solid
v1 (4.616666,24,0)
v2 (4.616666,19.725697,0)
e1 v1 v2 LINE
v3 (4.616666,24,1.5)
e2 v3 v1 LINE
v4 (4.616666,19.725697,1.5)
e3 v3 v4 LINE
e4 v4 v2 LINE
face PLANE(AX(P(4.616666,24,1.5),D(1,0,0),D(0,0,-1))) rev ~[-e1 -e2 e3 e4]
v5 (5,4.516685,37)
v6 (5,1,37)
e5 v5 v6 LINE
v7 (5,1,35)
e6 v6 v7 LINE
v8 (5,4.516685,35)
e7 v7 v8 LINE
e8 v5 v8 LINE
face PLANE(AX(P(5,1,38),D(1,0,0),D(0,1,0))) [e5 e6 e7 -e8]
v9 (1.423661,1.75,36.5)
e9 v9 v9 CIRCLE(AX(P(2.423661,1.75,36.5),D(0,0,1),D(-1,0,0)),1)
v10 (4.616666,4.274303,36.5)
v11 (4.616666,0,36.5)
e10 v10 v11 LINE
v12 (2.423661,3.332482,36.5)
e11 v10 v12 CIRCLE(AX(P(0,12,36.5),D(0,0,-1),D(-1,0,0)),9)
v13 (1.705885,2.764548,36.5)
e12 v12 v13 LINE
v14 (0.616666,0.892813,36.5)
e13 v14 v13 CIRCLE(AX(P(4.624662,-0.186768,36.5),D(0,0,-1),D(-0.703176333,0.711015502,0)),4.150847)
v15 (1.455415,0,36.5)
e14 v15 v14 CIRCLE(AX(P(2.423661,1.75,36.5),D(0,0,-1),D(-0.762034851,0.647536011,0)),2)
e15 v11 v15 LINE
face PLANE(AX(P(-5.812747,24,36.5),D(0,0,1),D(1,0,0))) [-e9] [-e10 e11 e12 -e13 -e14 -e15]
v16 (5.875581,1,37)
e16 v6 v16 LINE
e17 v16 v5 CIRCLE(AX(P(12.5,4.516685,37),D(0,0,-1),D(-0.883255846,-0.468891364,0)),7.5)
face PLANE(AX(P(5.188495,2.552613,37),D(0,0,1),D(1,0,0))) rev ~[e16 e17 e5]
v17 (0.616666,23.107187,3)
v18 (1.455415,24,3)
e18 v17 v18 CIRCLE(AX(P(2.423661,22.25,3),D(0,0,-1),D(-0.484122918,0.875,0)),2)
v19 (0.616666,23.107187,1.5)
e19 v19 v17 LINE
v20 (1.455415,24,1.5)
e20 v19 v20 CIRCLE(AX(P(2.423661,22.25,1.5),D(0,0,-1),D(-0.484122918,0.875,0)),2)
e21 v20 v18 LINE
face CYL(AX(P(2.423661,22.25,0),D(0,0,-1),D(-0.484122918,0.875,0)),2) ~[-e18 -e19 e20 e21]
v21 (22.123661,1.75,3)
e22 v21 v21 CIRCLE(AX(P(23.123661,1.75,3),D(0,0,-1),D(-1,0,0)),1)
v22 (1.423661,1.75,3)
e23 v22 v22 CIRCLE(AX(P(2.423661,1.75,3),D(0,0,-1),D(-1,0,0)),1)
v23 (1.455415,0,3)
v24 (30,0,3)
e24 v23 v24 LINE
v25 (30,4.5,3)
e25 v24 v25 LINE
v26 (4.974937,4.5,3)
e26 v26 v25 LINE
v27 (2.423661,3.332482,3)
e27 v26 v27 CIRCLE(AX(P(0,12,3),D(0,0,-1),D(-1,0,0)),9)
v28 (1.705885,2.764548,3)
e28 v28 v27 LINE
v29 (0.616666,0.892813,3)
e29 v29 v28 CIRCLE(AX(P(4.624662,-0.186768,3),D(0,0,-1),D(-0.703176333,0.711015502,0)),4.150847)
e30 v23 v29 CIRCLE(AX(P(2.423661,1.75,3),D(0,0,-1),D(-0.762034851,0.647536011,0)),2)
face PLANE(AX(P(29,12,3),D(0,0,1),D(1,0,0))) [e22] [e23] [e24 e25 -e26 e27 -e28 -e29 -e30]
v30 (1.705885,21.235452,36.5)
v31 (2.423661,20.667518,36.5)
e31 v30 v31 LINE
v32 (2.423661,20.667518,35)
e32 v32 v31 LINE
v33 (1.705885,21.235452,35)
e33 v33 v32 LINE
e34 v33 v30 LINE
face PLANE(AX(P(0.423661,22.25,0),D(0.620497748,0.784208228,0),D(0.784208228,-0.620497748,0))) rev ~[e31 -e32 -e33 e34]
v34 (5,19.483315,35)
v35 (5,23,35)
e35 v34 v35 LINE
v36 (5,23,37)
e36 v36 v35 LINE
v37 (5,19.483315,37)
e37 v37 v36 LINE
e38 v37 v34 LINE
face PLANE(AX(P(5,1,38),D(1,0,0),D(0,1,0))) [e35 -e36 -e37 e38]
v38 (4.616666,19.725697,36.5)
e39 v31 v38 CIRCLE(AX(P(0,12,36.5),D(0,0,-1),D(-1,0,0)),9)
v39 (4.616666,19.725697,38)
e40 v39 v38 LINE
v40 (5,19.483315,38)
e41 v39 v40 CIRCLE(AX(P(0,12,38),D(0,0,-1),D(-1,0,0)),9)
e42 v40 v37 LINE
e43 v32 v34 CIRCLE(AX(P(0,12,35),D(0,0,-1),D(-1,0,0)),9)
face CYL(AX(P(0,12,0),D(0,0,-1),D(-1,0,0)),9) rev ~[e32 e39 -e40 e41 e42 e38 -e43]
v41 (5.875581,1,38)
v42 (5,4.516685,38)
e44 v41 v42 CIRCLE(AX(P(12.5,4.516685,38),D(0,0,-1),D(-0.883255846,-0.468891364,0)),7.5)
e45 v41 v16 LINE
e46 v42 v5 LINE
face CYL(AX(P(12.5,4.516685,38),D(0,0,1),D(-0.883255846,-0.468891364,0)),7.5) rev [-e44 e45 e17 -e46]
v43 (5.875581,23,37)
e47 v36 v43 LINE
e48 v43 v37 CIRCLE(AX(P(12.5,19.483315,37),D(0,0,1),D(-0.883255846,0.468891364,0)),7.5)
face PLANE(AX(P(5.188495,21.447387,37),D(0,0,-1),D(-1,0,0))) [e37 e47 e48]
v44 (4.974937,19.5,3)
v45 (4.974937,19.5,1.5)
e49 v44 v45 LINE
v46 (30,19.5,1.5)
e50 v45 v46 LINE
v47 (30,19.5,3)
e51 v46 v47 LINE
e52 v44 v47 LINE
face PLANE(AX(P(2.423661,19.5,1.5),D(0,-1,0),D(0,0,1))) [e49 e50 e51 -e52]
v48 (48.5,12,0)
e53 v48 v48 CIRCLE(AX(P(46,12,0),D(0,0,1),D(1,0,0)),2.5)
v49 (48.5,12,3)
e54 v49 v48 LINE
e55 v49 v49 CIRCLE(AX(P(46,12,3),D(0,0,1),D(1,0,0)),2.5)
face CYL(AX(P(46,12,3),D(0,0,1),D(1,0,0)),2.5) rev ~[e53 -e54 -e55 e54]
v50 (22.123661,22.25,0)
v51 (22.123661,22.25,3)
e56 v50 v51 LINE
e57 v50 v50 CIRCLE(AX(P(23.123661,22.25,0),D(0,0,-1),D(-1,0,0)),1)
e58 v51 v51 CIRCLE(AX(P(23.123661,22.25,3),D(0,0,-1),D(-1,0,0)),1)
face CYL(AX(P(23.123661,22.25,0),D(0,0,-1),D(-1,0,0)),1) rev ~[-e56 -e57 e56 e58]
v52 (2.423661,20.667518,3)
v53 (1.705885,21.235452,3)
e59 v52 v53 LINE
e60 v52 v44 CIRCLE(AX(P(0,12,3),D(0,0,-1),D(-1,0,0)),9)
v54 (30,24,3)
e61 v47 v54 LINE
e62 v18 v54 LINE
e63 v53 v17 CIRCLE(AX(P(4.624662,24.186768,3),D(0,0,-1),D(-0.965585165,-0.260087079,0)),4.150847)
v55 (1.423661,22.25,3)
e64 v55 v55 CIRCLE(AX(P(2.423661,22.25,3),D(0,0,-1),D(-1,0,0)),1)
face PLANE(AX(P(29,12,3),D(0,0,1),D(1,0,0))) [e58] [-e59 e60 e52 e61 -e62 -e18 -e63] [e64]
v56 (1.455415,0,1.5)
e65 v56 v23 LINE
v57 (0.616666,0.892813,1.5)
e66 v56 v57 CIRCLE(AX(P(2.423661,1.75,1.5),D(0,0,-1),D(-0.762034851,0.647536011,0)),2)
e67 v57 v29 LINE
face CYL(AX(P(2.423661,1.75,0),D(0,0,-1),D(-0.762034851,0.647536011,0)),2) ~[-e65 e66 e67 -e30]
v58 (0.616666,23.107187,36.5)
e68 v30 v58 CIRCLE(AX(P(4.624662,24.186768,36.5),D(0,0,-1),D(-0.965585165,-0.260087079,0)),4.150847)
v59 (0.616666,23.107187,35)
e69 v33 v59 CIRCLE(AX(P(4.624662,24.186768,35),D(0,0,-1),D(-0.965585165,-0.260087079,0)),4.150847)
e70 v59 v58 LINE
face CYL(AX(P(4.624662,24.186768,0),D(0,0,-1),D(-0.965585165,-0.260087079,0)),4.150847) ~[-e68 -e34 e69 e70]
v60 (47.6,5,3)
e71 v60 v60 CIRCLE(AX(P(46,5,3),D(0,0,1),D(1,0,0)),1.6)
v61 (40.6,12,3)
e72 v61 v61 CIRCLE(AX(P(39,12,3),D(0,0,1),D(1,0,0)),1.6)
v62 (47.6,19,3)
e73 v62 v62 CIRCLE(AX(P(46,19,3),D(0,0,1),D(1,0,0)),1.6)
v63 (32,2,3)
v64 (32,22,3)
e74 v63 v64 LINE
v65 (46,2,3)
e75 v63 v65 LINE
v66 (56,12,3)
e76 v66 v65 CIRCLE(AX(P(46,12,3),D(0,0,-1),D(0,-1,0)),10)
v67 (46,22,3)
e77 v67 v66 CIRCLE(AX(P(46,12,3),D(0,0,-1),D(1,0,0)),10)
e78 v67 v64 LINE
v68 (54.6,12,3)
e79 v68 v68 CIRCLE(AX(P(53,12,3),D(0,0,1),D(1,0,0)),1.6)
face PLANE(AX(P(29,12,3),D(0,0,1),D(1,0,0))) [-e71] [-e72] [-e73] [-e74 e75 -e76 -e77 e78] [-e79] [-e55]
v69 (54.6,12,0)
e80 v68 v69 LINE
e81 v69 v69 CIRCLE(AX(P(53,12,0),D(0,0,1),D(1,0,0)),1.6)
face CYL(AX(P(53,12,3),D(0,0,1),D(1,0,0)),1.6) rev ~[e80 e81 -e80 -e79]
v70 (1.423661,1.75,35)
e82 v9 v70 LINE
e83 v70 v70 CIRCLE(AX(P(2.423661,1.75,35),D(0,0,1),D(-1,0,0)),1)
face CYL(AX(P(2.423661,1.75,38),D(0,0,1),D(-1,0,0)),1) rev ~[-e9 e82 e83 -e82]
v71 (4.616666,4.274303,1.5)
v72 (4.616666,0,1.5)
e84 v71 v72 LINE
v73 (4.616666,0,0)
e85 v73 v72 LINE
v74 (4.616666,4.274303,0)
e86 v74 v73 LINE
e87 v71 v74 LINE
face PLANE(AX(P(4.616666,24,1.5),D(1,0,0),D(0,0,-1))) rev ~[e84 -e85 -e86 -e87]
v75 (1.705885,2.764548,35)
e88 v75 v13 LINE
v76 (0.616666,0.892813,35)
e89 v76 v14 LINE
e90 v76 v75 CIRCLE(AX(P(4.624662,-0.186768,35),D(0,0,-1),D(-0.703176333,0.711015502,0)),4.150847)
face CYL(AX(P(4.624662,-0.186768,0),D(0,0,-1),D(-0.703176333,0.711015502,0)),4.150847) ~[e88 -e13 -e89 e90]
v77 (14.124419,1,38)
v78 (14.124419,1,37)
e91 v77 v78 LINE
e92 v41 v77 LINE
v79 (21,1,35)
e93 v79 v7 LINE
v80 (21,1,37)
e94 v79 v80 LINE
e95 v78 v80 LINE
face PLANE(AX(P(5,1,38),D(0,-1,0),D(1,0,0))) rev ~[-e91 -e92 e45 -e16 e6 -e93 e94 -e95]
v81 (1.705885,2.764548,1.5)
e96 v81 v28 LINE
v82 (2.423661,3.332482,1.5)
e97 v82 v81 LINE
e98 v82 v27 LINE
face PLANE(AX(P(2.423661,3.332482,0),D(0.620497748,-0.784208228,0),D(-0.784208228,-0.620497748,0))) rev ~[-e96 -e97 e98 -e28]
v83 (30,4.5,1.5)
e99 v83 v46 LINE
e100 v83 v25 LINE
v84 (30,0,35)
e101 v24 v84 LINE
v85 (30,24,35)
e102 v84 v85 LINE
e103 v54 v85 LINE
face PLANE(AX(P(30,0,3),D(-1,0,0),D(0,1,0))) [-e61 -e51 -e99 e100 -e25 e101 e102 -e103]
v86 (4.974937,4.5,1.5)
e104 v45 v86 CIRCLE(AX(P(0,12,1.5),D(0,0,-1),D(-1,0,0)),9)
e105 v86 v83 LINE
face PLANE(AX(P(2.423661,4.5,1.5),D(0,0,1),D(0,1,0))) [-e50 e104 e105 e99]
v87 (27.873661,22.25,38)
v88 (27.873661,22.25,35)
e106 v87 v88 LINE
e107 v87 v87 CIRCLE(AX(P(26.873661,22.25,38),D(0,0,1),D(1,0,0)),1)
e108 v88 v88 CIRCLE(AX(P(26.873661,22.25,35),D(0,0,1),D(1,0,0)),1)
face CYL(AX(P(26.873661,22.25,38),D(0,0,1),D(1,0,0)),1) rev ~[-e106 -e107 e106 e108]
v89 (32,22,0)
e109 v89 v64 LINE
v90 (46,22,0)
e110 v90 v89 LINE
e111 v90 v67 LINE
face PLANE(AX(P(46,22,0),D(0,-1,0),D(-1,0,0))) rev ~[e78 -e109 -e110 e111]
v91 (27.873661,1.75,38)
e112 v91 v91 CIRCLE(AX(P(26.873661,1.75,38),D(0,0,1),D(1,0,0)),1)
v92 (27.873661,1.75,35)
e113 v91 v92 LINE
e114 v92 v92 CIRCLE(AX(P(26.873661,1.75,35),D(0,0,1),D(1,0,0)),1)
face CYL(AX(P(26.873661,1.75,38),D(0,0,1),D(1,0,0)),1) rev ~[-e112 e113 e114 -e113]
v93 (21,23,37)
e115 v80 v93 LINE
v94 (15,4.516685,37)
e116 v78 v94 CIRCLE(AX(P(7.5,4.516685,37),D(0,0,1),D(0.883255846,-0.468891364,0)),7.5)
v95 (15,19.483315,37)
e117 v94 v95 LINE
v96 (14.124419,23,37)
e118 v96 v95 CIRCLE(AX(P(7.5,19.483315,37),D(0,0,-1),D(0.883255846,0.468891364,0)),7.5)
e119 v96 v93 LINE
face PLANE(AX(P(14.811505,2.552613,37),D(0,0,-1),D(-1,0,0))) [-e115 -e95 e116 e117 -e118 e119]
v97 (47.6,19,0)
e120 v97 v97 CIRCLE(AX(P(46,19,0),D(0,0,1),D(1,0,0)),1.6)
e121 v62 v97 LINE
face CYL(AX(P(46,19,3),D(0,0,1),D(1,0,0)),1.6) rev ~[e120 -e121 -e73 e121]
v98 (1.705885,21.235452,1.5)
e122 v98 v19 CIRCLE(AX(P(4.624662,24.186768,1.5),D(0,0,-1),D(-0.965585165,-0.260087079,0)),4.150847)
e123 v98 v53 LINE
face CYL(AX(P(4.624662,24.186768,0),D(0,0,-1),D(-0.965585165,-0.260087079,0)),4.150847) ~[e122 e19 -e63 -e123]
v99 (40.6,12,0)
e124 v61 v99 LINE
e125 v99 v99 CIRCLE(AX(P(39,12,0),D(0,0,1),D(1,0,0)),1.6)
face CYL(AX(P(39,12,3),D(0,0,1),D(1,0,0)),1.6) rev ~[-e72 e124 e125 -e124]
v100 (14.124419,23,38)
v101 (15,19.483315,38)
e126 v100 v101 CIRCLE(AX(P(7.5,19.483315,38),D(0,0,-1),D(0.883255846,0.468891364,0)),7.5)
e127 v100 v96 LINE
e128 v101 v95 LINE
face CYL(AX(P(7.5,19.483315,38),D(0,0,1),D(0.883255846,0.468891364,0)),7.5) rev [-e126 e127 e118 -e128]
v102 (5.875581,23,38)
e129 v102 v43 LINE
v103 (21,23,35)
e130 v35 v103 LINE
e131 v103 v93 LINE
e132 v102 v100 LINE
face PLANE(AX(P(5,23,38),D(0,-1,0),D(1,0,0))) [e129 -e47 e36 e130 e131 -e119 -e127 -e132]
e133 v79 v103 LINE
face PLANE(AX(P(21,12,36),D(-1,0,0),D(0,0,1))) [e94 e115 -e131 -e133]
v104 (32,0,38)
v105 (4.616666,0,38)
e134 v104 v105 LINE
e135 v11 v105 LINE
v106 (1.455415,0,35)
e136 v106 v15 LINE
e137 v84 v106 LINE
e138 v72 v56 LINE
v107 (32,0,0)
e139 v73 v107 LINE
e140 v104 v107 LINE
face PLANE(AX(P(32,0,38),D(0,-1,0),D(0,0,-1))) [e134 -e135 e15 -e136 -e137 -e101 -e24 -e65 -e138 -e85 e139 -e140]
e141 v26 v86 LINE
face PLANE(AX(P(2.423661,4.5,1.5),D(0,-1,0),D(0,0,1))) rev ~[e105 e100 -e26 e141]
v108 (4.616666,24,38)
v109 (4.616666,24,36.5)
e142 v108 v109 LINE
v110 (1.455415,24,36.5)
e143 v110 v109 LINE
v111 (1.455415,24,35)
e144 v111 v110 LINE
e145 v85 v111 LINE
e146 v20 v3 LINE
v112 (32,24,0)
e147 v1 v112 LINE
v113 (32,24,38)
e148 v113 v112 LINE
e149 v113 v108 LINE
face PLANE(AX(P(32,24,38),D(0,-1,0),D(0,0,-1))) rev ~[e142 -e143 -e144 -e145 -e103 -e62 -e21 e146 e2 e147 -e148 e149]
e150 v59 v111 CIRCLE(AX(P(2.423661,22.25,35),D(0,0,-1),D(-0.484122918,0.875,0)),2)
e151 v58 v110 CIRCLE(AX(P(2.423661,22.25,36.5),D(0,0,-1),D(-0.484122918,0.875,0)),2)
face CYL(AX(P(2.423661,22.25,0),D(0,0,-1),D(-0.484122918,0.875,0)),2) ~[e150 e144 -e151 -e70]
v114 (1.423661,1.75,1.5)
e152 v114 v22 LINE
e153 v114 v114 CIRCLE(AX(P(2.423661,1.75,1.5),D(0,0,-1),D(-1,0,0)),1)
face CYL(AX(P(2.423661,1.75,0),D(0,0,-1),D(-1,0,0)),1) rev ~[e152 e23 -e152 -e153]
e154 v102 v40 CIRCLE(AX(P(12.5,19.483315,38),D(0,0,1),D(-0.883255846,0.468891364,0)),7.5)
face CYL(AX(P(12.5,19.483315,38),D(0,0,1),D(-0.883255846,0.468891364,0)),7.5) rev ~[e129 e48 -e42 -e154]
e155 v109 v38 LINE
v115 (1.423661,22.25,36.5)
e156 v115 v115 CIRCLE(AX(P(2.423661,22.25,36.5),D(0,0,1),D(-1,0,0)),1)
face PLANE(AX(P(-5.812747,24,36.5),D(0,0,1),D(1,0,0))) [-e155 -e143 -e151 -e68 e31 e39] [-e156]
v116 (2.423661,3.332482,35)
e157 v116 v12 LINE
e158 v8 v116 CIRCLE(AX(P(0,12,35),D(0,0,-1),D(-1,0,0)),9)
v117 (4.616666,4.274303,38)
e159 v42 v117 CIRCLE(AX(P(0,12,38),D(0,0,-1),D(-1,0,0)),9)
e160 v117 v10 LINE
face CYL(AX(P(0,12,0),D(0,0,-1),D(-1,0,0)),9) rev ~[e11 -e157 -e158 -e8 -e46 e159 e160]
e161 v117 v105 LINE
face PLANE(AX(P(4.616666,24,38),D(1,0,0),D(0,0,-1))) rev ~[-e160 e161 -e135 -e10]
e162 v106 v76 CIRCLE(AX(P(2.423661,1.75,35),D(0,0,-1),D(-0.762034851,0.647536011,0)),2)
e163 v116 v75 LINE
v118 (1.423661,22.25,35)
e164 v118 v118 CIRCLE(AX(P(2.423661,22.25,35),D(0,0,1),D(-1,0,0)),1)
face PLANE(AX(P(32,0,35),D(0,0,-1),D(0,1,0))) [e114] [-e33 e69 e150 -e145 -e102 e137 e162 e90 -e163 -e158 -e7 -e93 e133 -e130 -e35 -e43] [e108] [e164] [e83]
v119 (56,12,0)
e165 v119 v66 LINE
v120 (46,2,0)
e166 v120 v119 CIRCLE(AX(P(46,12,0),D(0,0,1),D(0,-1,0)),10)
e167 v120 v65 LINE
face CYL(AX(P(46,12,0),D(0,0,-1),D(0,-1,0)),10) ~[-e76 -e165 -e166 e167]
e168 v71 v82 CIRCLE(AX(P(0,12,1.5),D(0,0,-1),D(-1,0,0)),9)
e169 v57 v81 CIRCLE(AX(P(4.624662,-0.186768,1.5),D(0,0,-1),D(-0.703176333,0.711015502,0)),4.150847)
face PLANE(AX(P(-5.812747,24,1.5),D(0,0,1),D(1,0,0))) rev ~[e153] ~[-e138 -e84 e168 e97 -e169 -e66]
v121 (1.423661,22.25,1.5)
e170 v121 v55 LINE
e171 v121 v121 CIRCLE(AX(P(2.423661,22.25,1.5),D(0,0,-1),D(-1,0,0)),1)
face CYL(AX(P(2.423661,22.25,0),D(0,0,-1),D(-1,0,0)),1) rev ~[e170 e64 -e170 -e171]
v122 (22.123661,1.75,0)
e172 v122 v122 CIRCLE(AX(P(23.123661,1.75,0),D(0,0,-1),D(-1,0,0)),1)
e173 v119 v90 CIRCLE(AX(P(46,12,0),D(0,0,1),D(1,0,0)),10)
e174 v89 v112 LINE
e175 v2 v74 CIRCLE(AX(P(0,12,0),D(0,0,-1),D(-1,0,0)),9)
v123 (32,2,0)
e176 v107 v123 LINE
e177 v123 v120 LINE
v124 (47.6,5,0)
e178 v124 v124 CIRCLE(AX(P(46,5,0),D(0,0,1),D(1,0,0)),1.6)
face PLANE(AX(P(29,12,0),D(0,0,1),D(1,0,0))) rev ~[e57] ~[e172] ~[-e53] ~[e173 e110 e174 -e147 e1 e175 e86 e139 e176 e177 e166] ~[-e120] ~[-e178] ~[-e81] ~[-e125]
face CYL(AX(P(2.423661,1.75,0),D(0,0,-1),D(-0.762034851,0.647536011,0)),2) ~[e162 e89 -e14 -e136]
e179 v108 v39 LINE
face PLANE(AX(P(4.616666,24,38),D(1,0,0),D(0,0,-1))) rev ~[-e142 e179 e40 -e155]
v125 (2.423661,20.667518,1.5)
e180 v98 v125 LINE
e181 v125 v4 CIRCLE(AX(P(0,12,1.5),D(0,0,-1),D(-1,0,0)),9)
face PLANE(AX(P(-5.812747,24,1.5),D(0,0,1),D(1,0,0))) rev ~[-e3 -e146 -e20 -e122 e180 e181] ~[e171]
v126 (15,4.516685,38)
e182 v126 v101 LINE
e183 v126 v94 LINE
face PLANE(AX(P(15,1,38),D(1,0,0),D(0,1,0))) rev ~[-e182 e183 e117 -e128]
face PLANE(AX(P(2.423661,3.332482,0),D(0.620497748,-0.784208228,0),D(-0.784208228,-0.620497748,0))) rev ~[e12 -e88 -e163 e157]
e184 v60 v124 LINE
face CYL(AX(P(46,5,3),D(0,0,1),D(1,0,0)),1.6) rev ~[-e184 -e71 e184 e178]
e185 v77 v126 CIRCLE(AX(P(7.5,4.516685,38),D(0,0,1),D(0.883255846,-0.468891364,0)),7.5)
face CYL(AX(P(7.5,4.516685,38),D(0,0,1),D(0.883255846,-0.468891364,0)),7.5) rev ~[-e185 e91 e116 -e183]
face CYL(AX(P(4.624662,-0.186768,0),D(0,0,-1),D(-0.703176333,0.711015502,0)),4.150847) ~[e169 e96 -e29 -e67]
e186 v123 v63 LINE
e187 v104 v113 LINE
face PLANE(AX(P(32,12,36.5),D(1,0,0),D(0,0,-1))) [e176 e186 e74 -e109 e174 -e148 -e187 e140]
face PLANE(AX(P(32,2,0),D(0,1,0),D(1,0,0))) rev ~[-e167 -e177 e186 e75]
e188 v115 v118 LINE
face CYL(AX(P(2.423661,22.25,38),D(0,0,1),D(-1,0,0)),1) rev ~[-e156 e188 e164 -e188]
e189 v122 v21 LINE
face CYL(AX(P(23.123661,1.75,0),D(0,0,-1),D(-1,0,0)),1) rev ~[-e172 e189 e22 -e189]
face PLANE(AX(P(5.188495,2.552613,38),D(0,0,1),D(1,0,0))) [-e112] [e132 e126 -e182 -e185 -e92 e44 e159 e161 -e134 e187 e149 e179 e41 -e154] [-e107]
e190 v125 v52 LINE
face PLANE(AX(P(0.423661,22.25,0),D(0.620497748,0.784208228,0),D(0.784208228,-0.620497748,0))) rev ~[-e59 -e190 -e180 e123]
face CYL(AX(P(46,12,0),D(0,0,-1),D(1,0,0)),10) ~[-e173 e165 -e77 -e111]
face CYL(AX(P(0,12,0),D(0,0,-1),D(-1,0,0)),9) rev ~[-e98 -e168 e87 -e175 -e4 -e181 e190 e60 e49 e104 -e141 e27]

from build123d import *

# Parameters (mm, degrees)
SKETCH_1_W           = 58
SKETCH_1_H           = 24
EXTRUDE_1_DEPTH      = 3
SKETCH_2_W           = 2
SKETCH_2_H           = 24
EXTRUDE_2_DEPTH      = 32
SKETCH_3_W           = 3
SKETCH_3_H           = 24
EXTRUDE_3_DEPTH      = 32
SKETCH_4_R           = 9
CUT_EXTRUDE_1_DEPTH  = 74.375745311
CUT_EXTRUDE_2_REACH  = 75.376
SKETCH_5_R           = 1
CUT_EXTRUDE_3_REACH  = 75.376
SKETCH_6_W           = 10
SKETCH_6_H           = 22
SKETCH_7_W           = 2
SKETCH_7_H           = 22
CUT_EXTRUDE_4_DEPTH  = 6
CUT_EXTRUDE_5_REACH  = 75.376
SKETCH_8_R           = 1
EXTRUDE_4_DEPTH      = 1
CUT_EXTRUDE_6_DEPTH  = 74.375745311
CUT_EXTRUDE_7_DEPTH  = 74.375745311
CUT_EXTRUDE_8_DEPTH  = 74.375745311
SKETCH_15_W          = 10.429412993
SKETCH_15_H          = 1.5
CUT_EXTRUDE_9_DEPTH  = 74.375745311
SKETCH_16_W          = 1.5
SKETCH_16_H          = 15
CUT_EXTRUDE_10_DEPTH = 27.576338772
CUT_EXTRUDE_11_REACH = 73.868
SKETCH_17_R          = 1.6
SKETCH_17_R_2        = 2.5
CUT_EXTRUDE_12_REACH = 75.376


with BuildPart() as part:
    # 草图1 → 凸台-拉伸1 (new body)
    with BuildSketch(Plane.XY):
        with Locations((29, 12)):
            Rectangle(SKETCH_1_W, SKETCH_1_H)
    extrude(amount=EXTRUDE_1_DEPTH)

    # 草图2 → 凸台-拉伸2 (add)
    with BuildSketch(Plane.XY.offset(3)):
        with Locations((31, 12)):
            Rectangle(SKETCH_2_W, SKETCH_2_H)
    extrude(amount=EXTRUDE_2_DEPTH)

    # 草图3 → 凸台-拉伸3 (add)
    with BuildSketch(Plane(origin=(32, 0, 0), x_dir=(0, 0, -1), z_dir=(1, 0, 0))):
        with Locations((-36.5, 12)):
            Rectangle(SKETCH_3_W, SKETCH_3_H)
    extrude(amount=-EXTRUDE_3_DEPTH)

    # 草图4 → 切除-拉伸1 (cut, through all)
    with BuildSketch(Plane(origin=(0, 0, 0), x_dir=(-1, 0, 0), z_dir=(0, 0, -1))):
        with Locations((0, 12)):
            Circle(SKETCH_4_R)
    extrude(amount=-CUT_EXTRUDE_1_DEPTH, mode=Mode.SUBTRACT)

    # 草图5 → 切除-拉伸2 (cut, up to next)
    with BuildSketch(Plane(origin=(0, 0, 0), x_dir=(-1, 0, 0), z_dir=(0, 0, -1)), mode=Mode.PRIVATE) as cut_extrude_2_sk1:
        with Locations((-2.423661228, 22.25)):
            Circle(SKETCH_5_R)
    cut_extrude_2_tool1 = extrude(cut_extrude_2_sk1.sketch, amount=-CUT_EXTRUDE_2_REACH, mode=Mode.PRIVATE) & part.part
    # 草图5 → 切除-拉伸2 (cut, up to next)
    with BuildSketch(Plane(origin=(0, 0, 0), x_dir=(-1, 0, 0), z_dir=(0, 0, -1)), mode=Mode.PRIVATE) as cut_extrude_2_sk2:
        with Locations((-2.423661228, 1.75)):
            Circle(SKETCH_5_R)
    cut_extrude_2_tool2 = extrude(cut_extrude_2_sk2.sketch, amount=-CUT_EXTRUDE_2_REACH, mode=Mode.PRIVATE) & part.part
    # 草图5 → 切除-拉伸2 (cut, up to next)
    with BuildSketch(Plane(origin=(0, 0, 0), x_dir=(-1, 0, 0), z_dir=(0, 0, -1)), mode=Mode.PRIVATE) as cut_extrude_2_sk3:
        with Locations((-23.123661228, 1.75)):
            Circle(SKETCH_5_R)
    cut_extrude_2_tool3 = extrude(cut_extrude_2_sk3.sketch, amount=-CUT_EXTRUDE_2_REACH, mode=Mode.PRIVATE) & part.part
    # 草图5 → 切除-拉伸2 (cut, up to next)
    with BuildSketch(Plane(origin=(0, 0, 0), x_dir=(-1, 0, 0), z_dir=(0, 0, -1)), mode=Mode.PRIVATE) as cut_extrude_2_sk4:
        with Locations((-23.123661228, 22.25)):
            Circle(SKETCH_5_R)
    cut_extrude_2_tool4 = extrude(cut_extrude_2_sk4.sketch, amount=-CUT_EXTRUDE_2_REACH, mode=Mode.PRIVATE) & part.part
    add(cut_extrude_2_tool1.solids().sort_by_distance((2.423661, 22.25, 0))[0], mode=Mode.SUBTRACT)
    add(cut_extrude_2_tool2.solids().sort_by_distance((2.423661, 1.75, 0))[0], mode=Mode.SUBTRACT)
    add(cut_extrude_2_tool3.solids().sort_by_distance((23.123661, 1.75, 0))[0], mode=Mode.SUBTRACT)
    add(cut_extrude_2_tool4.solids().sort_by_distance((23.123661, 22.25, 0))[0], mode=Mode.SUBTRACT)

    # 草图6 → 切除-拉伸3 (cut, up to next)
    with BuildSketch(Plane.XY.offset(38), mode=Mode.PRIVATE) as cut_extrude_3_sk1:
        with Locations((10, 12)):
            Rectangle(SKETCH_6_W, SKETCH_6_H)
    cut_extrude_3_tool1 = extrude(cut_extrude_3_sk1.sketch, amount=-CUT_EXTRUDE_3_REACH, mode=Mode.PRIVATE) & part.part
    add(cut_extrude_3_tool1.solids().sort_by_distance((10, 12, 38))[0], mode=Mode.SUBTRACT)

    # 草图7 → 切除-拉伸4 (cut)
    with BuildSketch(Plane.ZY.offset(-15)):
        with Locations((36, 12)):
            Rectangle(SKETCH_7_W, SKETCH_7_H)
    extrude(amount=-CUT_EXTRUDE_4_DEPTH, mode=Mode.SUBTRACT)

    # 草图8 → 切除-拉伸5 (cut, up to next)
    with BuildSketch(Plane.XY.offset(38), mode=Mode.PRIVATE) as cut_extrude_5_sk1:
        with Locations(Location((2.423661228, 22.25, 0), (0, 0, 180))):
            Circle(SKETCH_8_R)
    cut_extrude_5_tool1 = extrude(cut_extrude_5_sk1.sketch, amount=-CUT_EXTRUDE_5_REACH, mode=Mode.PRIVATE) & part.part
    # 草图8 → 切除-拉伸5 (cut, up to next)
    with BuildSketch(Plane.XY.offset(38), mode=Mode.PRIVATE) as cut_extrude_5_sk2:
        with Locations(Location((2.423661228, 1.75, 0), (0, 0, 180))):
            Circle(SKETCH_8_R)
    cut_extrude_5_tool2 = extrude(cut_extrude_5_sk2.sketch, amount=-CUT_EXTRUDE_5_REACH, mode=Mode.PRIVATE) & part.part
    # 草图8 → 切除-拉伸5 (cut, up to next)
    with BuildSketch(Plane.XY.offset(38), mode=Mode.PRIVATE) as cut_extrude_5_sk3:
        with Locations((26.873661228, 22.25)):
            Circle(SKETCH_8_R)
    cut_extrude_5_tool3 = extrude(cut_extrude_5_sk3.sketch, amount=-CUT_EXTRUDE_5_REACH, mode=Mode.PRIVATE) & part.part
    # 草图8 → 切除-拉伸5 (cut, up to next)
    with BuildSketch(Plane.XY.offset(38), mode=Mode.PRIVATE) as cut_extrude_5_sk4:
        with Locations((26.873661228, 1.75)):
            Circle(SKETCH_8_R)
    cut_extrude_5_tool4 = extrude(cut_extrude_5_sk4.sketch, amount=-CUT_EXTRUDE_5_REACH, mode=Mode.PRIVATE) & part.part
    add(cut_extrude_5_tool1.solids().sort_by_distance((2.423661, 22.25, 38))[0], mode=Mode.SUBTRACT)
    add(cut_extrude_5_tool2.solids().sort_by_distance((2.423661, 1.75, 38))[0], mode=Mode.SUBTRACT)
    add(cut_extrude_5_tool3.solids().sort_by_distance((26.873661, 22.25, 38))[0], mode=Mode.SUBTRACT)
    add(cut_extrude_5_tool4.solids().sort_by_distance((26.873661, 1.75, 38))[0], mode=Mode.SUBTRACT)

    # 草图9 → 凸台-拉伸4 (add)
    with BuildSketch(Plane.XY.offset(38)):
        with BuildLine():
            Line((5, 1), (5.875581156, 1))
            ThreePointArc((5.875581156, 1), (5.222186409, 2.704661679), (5, 4.516685226))
            Line((5, 4.516685226), (5, 1))
        make_face()
        with BuildLine():
            Line((15, 23), (14.124418844, 23))
            ThreePointArc((14.124418844, 23), (14.777813591, 21.295338321), (15, 19.483314774))
            Line((15, 19.483314774), (15, 23))
        make_face()
        with BuildLine():
            Line((15, 4.516685226), (15, 1))
            Line((15, 1), (14.124418844, 1))
            ThreePointArc((14.124418844, 1), (14.777813591, 2.704661679), (15, 4.516685226))
        make_face()
        with BuildLine():
            Line((5, 19.483314774), (5, 23))
            Line((5, 23), (5.875581156, 23))
            ThreePointArc((5.875581156, 23), (5.222186409, 21.295338321), (5, 19.483314774))
        make_face()
    extrude(amount=-EXTRUDE_4_DEPTH)

    # 草图11 → 切除-拉伸6 (cut, through all)
    with BuildSketch(Plane(origin=(0, 0, 0), x_dir=(-1, 0, 0), z_dir=(0, 0, -1))):
        with BuildLine():
            Line((0, 21), (0, 24))
            Line((0, 24), (-1.455415392, 24))
            ThreePointArc((-1.455415392, 24), (-0.456169147, 22.609130768), (-0.899591526, 20.954927978))
            ThreePointArc((-0.899591526, 20.954927978), (-0.450359967, 20.988724932), (0, 21))
        make_face()
        with BuildLine():
            Line((-1.455415392, 0), (0, 0))
            Line((0, 0), (0, 3))
            ThreePointArc((0, 3), (-0.450359967, 3.011275068), (-0.899591526, 3.045072022))
            ThreePointArc((-0.899591526, 3.045072022), (-0.456169147, 1.390869232), (-1.455415392, 0))
        make_face()
    extrude(amount=-CUT_EXTRUDE_6_DEPTH, mode=Mode.SUBTRACT)

    # 草图12 → 切除-拉伸7 (cut, through all)
    with BuildSketch(Plane(origin=(0, 0, 0), x_dir=(-1, 0, 0), z_dir=(0, 0, -1))):
        with BuildLine():
            ThreePointArc((-0.899591526, 3.045072022), (-1.667828935, 3.155886328), (-2.423661228, 3.332482117))
            Line((-2.423661228, 3.332482117), (-0.423661228, 1.75))
            ThreePointArc((-0.423661228, 1.75), (-0.546410658, 2.439877016), (-0.899591526, 3.045072022))
        make_face()
        with BuildLine():
            ThreePointArc((-0.899591526, 20.954927978), (-0.546410658, 21.560122984), (-0.423661228, 22.25))
            Line((-0.423661228, 22.25), (-2.423661228, 20.667517883))
            ThreePointArc((-2.423661228, 20.667517883), (-1.667828935, 20.844113672), (-0.899591526, 20.954927978))
        make_face()
    extrude(amount=-CUT_EXTRUDE_7_DEPTH, mode=Mode.SUBTRACT)

    # 草图13 → 切除-拉伸8 (cut, through all)
    with BuildSketch(Plane(origin=(0, 0, 0), x_dir=(-1, 0, 0), z_dir=(0, 0, -1))):
        with BuildLine():
            ThreePointArc((-0.616666185, 23.107186627), (-1.037059303, 22.099034069), (-1.705884996, 21.235451909))
            Line((-1.705884996, 21.235451909), (-0.423661228, 22.25))
            ThreePointArc((-0.423661228, 22.25), (-0.472508993, 22.689323294), (-0.616666185, 23.107186627))
        make_face()
        with BuildLine():
            ThreePointArc((-0.616666185, 0.892813373), (-0.472508993, 1.310676706), (-0.423661228, 1.75))
            Line((-0.423661228, 1.75), (-1.705884996, 2.764548091))
            ThreePointArc((-1.705884996, 2.764548091), (-1.037059303, 1.900965931), (-0.616666185, 0.892813373))
        make_face()
    extrude(amount=-CUT_EXTRUDE_8_DEPTH, mode=Mode.SUBTRACT)

    # 草图15 → 切除-拉伸9 (cut, through all)
    with BuildSketch(Plane(origin=(0, 24, 0), x_dir=(1, 0, 0), z_dir=(0, 1, 0))):
        with Locations((-0.598040311, -37.25)):
            Rectangle(SKETCH_15_W, SKETCH_15_H)
        with Locations((-0.598040311, -0.75)):
            Rectangle(SKETCH_15_W, SKETCH_15_H)
    extrude(amount=-CUT_EXTRUDE_9_DEPTH, mode=Mode.SUBTRACT)

    # 草图16 → 切除-拉伸10 (cut)
    with BuildSketch(Plane.ZY.offset(-2.423661228)):
        with Locations((2.25, 12)):
            Rectangle(SKETCH_16_W, SKETCH_16_H)
    extrude(amount=-CUT_EXTRUDE_10_DEPTH, mode=Mode.SUBTRACT)

    # 草图17 → 切除-拉伸11 (cut, up to next)
    with BuildSketch(Plane.XY.offset(3), mode=Mode.PRIVATE) as cut_extrude_11_sk1:
        with Locations((53, 12)):
            Circle(SKETCH_17_R)
    cut_extrude_11_tool1 = extrude(cut_extrude_11_sk1.sketch, amount=-CUT_EXTRUDE_11_REACH, mode=Mode.PRIVATE) & part.part
    # 草图17 → 切除-拉伸11 (cut, up to next)
    with BuildSketch(Plane.XY.offset(3), mode=Mode.PRIVATE) as cut_extrude_11_sk2:
        with Locations((46, 12)):
            Circle(SKETCH_17_R_2)
    cut_extrude_11_tool2 = extrude(cut_extrude_11_sk2.sketch, amount=-CUT_EXTRUDE_11_REACH, mode=Mode.PRIVATE) & part.part
    # 草图17 → 切除-拉伸11 (cut, up to next)
    with BuildSketch(Plane.XY.offset(3), mode=Mode.PRIVATE) as cut_extrude_11_sk3:
        with Locations((46, 19)):
            Circle(SKETCH_17_R)
    cut_extrude_11_tool3 = extrude(cut_extrude_11_sk3.sketch, amount=-CUT_EXTRUDE_11_REACH, mode=Mode.PRIVATE) & part.part
    # 草图17 → 切除-拉伸11 (cut, up to next)
    with BuildSketch(Plane.XY.offset(3), mode=Mode.PRIVATE) as cut_extrude_11_sk4:
        with Locations((46, 5)):
            Circle(SKETCH_17_R)
    cut_extrude_11_tool4 = extrude(cut_extrude_11_sk4.sketch, amount=-CUT_EXTRUDE_11_REACH, mode=Mode.PRIVATE) & part.part
    # 草图17 → 切除-拉伸11 (cut, up to next)
    with BuildSketch(Plane.XY.offset(3), mode=Mode.PRIVATE) as cut_extrude_11_sk5:
        with Locations((39, 12)):
            Circle(SKETCH_17_R)
    cut_extrude_11_tool5 = extrude(cut_extrude_11_sk5.sketch, amount=-CUT_EXTRUDE_11_REACH, mode=Mode.PRIVATE) & part.part
    add(cut_extrude_11_tool1.solids().sort_by_distance((53, 12, 3))[0], mode=Mode.SUBTRACT)
    add(cut_extrude_11_tool2.solids().sort_by_distance((46, 12, 3))[0], mode=Mode.SUBTRACT)
    add(cut_extrude_11_tool3.solids().sort_by_distance((46, 19, 3))[0], mode=Mode.SUBTRACT)
    add(cut_extrude_11_tool4.solids().sort_by_distance((46, 5, 3))[0], mode=Mode.SUBTRACT)
    add(cut_extrude_11_tool5.solids().sort_by_distance((39, 12, 3))[0], mode=Mode.SUBTRACT)

    # 草图18 → 切除-拉伸12 (cut, up to next)
    with BuildSketch(Plane(origin=(0, 0, 0), x_dir=(-1, 0, 0), z_dir=(0, 0, -1)), mode=Mode.PRIVATE) as cut_extrude_12_sk1:
        with BuildLine():
            Line((-32, 2), (-46, 2))
            ThreePointArc((-46, 2), (-53.071067812, 4.928932188), (-56, 12))
            Line((-56, 12), (-58, 12))
            Line((-58, 12), (-58, 0))
            Line((-58, 0), (-32, 0))
            Line((-32, 0), (-32, 2))
        make_face()
    cut_extrude_12_tool1 = extrude(cut_extrude_12_sk1.sketch, amount=-CUT_EXTRUDE_12_REACH, mode=Mode.PRIVATE) & part.part
    # 草图18 → 切除-拉伸12 (cut, up to next)
    with BuildSketch(Plane(origin=(0, 0, 0), x_dir=(-1, 0, 0), z_dir=(0, 0, -1)), mode=Mode.PRIVATE) as cut_extrude_12_sk2:
        with BuildLine():
            Line((-58, 12), (-56, 12))
            ThreePointArc((-56, 12), (-53.071067812, 19.071067812), (-46, 22))
            Line((-46, 22), (-32, 22))
            Line((-32, 22), (-32, 24))
            Line((-32, 24), (-58, 24))
            Line((-58, 24), (-58, 12))
        make_face()
    cut_extrude_12_tool2 = extrude(cut_extrude_12_sk2.sketch, amount=-CUT_EXTRUDE_12_REACH, mode=Mode.PRIVATE) & part.part
    add(cut_extrude_12_tool1.solids().sort_by_distance((39, 1.713644, 0))[0], mode=Mode.SUBTRACT)
    add(cut_extrude_12_tool2.solids().sort_by_distance((57.713644, 18, 0))[0], mode=Mode.SUBTRACT)


solid = part.part
